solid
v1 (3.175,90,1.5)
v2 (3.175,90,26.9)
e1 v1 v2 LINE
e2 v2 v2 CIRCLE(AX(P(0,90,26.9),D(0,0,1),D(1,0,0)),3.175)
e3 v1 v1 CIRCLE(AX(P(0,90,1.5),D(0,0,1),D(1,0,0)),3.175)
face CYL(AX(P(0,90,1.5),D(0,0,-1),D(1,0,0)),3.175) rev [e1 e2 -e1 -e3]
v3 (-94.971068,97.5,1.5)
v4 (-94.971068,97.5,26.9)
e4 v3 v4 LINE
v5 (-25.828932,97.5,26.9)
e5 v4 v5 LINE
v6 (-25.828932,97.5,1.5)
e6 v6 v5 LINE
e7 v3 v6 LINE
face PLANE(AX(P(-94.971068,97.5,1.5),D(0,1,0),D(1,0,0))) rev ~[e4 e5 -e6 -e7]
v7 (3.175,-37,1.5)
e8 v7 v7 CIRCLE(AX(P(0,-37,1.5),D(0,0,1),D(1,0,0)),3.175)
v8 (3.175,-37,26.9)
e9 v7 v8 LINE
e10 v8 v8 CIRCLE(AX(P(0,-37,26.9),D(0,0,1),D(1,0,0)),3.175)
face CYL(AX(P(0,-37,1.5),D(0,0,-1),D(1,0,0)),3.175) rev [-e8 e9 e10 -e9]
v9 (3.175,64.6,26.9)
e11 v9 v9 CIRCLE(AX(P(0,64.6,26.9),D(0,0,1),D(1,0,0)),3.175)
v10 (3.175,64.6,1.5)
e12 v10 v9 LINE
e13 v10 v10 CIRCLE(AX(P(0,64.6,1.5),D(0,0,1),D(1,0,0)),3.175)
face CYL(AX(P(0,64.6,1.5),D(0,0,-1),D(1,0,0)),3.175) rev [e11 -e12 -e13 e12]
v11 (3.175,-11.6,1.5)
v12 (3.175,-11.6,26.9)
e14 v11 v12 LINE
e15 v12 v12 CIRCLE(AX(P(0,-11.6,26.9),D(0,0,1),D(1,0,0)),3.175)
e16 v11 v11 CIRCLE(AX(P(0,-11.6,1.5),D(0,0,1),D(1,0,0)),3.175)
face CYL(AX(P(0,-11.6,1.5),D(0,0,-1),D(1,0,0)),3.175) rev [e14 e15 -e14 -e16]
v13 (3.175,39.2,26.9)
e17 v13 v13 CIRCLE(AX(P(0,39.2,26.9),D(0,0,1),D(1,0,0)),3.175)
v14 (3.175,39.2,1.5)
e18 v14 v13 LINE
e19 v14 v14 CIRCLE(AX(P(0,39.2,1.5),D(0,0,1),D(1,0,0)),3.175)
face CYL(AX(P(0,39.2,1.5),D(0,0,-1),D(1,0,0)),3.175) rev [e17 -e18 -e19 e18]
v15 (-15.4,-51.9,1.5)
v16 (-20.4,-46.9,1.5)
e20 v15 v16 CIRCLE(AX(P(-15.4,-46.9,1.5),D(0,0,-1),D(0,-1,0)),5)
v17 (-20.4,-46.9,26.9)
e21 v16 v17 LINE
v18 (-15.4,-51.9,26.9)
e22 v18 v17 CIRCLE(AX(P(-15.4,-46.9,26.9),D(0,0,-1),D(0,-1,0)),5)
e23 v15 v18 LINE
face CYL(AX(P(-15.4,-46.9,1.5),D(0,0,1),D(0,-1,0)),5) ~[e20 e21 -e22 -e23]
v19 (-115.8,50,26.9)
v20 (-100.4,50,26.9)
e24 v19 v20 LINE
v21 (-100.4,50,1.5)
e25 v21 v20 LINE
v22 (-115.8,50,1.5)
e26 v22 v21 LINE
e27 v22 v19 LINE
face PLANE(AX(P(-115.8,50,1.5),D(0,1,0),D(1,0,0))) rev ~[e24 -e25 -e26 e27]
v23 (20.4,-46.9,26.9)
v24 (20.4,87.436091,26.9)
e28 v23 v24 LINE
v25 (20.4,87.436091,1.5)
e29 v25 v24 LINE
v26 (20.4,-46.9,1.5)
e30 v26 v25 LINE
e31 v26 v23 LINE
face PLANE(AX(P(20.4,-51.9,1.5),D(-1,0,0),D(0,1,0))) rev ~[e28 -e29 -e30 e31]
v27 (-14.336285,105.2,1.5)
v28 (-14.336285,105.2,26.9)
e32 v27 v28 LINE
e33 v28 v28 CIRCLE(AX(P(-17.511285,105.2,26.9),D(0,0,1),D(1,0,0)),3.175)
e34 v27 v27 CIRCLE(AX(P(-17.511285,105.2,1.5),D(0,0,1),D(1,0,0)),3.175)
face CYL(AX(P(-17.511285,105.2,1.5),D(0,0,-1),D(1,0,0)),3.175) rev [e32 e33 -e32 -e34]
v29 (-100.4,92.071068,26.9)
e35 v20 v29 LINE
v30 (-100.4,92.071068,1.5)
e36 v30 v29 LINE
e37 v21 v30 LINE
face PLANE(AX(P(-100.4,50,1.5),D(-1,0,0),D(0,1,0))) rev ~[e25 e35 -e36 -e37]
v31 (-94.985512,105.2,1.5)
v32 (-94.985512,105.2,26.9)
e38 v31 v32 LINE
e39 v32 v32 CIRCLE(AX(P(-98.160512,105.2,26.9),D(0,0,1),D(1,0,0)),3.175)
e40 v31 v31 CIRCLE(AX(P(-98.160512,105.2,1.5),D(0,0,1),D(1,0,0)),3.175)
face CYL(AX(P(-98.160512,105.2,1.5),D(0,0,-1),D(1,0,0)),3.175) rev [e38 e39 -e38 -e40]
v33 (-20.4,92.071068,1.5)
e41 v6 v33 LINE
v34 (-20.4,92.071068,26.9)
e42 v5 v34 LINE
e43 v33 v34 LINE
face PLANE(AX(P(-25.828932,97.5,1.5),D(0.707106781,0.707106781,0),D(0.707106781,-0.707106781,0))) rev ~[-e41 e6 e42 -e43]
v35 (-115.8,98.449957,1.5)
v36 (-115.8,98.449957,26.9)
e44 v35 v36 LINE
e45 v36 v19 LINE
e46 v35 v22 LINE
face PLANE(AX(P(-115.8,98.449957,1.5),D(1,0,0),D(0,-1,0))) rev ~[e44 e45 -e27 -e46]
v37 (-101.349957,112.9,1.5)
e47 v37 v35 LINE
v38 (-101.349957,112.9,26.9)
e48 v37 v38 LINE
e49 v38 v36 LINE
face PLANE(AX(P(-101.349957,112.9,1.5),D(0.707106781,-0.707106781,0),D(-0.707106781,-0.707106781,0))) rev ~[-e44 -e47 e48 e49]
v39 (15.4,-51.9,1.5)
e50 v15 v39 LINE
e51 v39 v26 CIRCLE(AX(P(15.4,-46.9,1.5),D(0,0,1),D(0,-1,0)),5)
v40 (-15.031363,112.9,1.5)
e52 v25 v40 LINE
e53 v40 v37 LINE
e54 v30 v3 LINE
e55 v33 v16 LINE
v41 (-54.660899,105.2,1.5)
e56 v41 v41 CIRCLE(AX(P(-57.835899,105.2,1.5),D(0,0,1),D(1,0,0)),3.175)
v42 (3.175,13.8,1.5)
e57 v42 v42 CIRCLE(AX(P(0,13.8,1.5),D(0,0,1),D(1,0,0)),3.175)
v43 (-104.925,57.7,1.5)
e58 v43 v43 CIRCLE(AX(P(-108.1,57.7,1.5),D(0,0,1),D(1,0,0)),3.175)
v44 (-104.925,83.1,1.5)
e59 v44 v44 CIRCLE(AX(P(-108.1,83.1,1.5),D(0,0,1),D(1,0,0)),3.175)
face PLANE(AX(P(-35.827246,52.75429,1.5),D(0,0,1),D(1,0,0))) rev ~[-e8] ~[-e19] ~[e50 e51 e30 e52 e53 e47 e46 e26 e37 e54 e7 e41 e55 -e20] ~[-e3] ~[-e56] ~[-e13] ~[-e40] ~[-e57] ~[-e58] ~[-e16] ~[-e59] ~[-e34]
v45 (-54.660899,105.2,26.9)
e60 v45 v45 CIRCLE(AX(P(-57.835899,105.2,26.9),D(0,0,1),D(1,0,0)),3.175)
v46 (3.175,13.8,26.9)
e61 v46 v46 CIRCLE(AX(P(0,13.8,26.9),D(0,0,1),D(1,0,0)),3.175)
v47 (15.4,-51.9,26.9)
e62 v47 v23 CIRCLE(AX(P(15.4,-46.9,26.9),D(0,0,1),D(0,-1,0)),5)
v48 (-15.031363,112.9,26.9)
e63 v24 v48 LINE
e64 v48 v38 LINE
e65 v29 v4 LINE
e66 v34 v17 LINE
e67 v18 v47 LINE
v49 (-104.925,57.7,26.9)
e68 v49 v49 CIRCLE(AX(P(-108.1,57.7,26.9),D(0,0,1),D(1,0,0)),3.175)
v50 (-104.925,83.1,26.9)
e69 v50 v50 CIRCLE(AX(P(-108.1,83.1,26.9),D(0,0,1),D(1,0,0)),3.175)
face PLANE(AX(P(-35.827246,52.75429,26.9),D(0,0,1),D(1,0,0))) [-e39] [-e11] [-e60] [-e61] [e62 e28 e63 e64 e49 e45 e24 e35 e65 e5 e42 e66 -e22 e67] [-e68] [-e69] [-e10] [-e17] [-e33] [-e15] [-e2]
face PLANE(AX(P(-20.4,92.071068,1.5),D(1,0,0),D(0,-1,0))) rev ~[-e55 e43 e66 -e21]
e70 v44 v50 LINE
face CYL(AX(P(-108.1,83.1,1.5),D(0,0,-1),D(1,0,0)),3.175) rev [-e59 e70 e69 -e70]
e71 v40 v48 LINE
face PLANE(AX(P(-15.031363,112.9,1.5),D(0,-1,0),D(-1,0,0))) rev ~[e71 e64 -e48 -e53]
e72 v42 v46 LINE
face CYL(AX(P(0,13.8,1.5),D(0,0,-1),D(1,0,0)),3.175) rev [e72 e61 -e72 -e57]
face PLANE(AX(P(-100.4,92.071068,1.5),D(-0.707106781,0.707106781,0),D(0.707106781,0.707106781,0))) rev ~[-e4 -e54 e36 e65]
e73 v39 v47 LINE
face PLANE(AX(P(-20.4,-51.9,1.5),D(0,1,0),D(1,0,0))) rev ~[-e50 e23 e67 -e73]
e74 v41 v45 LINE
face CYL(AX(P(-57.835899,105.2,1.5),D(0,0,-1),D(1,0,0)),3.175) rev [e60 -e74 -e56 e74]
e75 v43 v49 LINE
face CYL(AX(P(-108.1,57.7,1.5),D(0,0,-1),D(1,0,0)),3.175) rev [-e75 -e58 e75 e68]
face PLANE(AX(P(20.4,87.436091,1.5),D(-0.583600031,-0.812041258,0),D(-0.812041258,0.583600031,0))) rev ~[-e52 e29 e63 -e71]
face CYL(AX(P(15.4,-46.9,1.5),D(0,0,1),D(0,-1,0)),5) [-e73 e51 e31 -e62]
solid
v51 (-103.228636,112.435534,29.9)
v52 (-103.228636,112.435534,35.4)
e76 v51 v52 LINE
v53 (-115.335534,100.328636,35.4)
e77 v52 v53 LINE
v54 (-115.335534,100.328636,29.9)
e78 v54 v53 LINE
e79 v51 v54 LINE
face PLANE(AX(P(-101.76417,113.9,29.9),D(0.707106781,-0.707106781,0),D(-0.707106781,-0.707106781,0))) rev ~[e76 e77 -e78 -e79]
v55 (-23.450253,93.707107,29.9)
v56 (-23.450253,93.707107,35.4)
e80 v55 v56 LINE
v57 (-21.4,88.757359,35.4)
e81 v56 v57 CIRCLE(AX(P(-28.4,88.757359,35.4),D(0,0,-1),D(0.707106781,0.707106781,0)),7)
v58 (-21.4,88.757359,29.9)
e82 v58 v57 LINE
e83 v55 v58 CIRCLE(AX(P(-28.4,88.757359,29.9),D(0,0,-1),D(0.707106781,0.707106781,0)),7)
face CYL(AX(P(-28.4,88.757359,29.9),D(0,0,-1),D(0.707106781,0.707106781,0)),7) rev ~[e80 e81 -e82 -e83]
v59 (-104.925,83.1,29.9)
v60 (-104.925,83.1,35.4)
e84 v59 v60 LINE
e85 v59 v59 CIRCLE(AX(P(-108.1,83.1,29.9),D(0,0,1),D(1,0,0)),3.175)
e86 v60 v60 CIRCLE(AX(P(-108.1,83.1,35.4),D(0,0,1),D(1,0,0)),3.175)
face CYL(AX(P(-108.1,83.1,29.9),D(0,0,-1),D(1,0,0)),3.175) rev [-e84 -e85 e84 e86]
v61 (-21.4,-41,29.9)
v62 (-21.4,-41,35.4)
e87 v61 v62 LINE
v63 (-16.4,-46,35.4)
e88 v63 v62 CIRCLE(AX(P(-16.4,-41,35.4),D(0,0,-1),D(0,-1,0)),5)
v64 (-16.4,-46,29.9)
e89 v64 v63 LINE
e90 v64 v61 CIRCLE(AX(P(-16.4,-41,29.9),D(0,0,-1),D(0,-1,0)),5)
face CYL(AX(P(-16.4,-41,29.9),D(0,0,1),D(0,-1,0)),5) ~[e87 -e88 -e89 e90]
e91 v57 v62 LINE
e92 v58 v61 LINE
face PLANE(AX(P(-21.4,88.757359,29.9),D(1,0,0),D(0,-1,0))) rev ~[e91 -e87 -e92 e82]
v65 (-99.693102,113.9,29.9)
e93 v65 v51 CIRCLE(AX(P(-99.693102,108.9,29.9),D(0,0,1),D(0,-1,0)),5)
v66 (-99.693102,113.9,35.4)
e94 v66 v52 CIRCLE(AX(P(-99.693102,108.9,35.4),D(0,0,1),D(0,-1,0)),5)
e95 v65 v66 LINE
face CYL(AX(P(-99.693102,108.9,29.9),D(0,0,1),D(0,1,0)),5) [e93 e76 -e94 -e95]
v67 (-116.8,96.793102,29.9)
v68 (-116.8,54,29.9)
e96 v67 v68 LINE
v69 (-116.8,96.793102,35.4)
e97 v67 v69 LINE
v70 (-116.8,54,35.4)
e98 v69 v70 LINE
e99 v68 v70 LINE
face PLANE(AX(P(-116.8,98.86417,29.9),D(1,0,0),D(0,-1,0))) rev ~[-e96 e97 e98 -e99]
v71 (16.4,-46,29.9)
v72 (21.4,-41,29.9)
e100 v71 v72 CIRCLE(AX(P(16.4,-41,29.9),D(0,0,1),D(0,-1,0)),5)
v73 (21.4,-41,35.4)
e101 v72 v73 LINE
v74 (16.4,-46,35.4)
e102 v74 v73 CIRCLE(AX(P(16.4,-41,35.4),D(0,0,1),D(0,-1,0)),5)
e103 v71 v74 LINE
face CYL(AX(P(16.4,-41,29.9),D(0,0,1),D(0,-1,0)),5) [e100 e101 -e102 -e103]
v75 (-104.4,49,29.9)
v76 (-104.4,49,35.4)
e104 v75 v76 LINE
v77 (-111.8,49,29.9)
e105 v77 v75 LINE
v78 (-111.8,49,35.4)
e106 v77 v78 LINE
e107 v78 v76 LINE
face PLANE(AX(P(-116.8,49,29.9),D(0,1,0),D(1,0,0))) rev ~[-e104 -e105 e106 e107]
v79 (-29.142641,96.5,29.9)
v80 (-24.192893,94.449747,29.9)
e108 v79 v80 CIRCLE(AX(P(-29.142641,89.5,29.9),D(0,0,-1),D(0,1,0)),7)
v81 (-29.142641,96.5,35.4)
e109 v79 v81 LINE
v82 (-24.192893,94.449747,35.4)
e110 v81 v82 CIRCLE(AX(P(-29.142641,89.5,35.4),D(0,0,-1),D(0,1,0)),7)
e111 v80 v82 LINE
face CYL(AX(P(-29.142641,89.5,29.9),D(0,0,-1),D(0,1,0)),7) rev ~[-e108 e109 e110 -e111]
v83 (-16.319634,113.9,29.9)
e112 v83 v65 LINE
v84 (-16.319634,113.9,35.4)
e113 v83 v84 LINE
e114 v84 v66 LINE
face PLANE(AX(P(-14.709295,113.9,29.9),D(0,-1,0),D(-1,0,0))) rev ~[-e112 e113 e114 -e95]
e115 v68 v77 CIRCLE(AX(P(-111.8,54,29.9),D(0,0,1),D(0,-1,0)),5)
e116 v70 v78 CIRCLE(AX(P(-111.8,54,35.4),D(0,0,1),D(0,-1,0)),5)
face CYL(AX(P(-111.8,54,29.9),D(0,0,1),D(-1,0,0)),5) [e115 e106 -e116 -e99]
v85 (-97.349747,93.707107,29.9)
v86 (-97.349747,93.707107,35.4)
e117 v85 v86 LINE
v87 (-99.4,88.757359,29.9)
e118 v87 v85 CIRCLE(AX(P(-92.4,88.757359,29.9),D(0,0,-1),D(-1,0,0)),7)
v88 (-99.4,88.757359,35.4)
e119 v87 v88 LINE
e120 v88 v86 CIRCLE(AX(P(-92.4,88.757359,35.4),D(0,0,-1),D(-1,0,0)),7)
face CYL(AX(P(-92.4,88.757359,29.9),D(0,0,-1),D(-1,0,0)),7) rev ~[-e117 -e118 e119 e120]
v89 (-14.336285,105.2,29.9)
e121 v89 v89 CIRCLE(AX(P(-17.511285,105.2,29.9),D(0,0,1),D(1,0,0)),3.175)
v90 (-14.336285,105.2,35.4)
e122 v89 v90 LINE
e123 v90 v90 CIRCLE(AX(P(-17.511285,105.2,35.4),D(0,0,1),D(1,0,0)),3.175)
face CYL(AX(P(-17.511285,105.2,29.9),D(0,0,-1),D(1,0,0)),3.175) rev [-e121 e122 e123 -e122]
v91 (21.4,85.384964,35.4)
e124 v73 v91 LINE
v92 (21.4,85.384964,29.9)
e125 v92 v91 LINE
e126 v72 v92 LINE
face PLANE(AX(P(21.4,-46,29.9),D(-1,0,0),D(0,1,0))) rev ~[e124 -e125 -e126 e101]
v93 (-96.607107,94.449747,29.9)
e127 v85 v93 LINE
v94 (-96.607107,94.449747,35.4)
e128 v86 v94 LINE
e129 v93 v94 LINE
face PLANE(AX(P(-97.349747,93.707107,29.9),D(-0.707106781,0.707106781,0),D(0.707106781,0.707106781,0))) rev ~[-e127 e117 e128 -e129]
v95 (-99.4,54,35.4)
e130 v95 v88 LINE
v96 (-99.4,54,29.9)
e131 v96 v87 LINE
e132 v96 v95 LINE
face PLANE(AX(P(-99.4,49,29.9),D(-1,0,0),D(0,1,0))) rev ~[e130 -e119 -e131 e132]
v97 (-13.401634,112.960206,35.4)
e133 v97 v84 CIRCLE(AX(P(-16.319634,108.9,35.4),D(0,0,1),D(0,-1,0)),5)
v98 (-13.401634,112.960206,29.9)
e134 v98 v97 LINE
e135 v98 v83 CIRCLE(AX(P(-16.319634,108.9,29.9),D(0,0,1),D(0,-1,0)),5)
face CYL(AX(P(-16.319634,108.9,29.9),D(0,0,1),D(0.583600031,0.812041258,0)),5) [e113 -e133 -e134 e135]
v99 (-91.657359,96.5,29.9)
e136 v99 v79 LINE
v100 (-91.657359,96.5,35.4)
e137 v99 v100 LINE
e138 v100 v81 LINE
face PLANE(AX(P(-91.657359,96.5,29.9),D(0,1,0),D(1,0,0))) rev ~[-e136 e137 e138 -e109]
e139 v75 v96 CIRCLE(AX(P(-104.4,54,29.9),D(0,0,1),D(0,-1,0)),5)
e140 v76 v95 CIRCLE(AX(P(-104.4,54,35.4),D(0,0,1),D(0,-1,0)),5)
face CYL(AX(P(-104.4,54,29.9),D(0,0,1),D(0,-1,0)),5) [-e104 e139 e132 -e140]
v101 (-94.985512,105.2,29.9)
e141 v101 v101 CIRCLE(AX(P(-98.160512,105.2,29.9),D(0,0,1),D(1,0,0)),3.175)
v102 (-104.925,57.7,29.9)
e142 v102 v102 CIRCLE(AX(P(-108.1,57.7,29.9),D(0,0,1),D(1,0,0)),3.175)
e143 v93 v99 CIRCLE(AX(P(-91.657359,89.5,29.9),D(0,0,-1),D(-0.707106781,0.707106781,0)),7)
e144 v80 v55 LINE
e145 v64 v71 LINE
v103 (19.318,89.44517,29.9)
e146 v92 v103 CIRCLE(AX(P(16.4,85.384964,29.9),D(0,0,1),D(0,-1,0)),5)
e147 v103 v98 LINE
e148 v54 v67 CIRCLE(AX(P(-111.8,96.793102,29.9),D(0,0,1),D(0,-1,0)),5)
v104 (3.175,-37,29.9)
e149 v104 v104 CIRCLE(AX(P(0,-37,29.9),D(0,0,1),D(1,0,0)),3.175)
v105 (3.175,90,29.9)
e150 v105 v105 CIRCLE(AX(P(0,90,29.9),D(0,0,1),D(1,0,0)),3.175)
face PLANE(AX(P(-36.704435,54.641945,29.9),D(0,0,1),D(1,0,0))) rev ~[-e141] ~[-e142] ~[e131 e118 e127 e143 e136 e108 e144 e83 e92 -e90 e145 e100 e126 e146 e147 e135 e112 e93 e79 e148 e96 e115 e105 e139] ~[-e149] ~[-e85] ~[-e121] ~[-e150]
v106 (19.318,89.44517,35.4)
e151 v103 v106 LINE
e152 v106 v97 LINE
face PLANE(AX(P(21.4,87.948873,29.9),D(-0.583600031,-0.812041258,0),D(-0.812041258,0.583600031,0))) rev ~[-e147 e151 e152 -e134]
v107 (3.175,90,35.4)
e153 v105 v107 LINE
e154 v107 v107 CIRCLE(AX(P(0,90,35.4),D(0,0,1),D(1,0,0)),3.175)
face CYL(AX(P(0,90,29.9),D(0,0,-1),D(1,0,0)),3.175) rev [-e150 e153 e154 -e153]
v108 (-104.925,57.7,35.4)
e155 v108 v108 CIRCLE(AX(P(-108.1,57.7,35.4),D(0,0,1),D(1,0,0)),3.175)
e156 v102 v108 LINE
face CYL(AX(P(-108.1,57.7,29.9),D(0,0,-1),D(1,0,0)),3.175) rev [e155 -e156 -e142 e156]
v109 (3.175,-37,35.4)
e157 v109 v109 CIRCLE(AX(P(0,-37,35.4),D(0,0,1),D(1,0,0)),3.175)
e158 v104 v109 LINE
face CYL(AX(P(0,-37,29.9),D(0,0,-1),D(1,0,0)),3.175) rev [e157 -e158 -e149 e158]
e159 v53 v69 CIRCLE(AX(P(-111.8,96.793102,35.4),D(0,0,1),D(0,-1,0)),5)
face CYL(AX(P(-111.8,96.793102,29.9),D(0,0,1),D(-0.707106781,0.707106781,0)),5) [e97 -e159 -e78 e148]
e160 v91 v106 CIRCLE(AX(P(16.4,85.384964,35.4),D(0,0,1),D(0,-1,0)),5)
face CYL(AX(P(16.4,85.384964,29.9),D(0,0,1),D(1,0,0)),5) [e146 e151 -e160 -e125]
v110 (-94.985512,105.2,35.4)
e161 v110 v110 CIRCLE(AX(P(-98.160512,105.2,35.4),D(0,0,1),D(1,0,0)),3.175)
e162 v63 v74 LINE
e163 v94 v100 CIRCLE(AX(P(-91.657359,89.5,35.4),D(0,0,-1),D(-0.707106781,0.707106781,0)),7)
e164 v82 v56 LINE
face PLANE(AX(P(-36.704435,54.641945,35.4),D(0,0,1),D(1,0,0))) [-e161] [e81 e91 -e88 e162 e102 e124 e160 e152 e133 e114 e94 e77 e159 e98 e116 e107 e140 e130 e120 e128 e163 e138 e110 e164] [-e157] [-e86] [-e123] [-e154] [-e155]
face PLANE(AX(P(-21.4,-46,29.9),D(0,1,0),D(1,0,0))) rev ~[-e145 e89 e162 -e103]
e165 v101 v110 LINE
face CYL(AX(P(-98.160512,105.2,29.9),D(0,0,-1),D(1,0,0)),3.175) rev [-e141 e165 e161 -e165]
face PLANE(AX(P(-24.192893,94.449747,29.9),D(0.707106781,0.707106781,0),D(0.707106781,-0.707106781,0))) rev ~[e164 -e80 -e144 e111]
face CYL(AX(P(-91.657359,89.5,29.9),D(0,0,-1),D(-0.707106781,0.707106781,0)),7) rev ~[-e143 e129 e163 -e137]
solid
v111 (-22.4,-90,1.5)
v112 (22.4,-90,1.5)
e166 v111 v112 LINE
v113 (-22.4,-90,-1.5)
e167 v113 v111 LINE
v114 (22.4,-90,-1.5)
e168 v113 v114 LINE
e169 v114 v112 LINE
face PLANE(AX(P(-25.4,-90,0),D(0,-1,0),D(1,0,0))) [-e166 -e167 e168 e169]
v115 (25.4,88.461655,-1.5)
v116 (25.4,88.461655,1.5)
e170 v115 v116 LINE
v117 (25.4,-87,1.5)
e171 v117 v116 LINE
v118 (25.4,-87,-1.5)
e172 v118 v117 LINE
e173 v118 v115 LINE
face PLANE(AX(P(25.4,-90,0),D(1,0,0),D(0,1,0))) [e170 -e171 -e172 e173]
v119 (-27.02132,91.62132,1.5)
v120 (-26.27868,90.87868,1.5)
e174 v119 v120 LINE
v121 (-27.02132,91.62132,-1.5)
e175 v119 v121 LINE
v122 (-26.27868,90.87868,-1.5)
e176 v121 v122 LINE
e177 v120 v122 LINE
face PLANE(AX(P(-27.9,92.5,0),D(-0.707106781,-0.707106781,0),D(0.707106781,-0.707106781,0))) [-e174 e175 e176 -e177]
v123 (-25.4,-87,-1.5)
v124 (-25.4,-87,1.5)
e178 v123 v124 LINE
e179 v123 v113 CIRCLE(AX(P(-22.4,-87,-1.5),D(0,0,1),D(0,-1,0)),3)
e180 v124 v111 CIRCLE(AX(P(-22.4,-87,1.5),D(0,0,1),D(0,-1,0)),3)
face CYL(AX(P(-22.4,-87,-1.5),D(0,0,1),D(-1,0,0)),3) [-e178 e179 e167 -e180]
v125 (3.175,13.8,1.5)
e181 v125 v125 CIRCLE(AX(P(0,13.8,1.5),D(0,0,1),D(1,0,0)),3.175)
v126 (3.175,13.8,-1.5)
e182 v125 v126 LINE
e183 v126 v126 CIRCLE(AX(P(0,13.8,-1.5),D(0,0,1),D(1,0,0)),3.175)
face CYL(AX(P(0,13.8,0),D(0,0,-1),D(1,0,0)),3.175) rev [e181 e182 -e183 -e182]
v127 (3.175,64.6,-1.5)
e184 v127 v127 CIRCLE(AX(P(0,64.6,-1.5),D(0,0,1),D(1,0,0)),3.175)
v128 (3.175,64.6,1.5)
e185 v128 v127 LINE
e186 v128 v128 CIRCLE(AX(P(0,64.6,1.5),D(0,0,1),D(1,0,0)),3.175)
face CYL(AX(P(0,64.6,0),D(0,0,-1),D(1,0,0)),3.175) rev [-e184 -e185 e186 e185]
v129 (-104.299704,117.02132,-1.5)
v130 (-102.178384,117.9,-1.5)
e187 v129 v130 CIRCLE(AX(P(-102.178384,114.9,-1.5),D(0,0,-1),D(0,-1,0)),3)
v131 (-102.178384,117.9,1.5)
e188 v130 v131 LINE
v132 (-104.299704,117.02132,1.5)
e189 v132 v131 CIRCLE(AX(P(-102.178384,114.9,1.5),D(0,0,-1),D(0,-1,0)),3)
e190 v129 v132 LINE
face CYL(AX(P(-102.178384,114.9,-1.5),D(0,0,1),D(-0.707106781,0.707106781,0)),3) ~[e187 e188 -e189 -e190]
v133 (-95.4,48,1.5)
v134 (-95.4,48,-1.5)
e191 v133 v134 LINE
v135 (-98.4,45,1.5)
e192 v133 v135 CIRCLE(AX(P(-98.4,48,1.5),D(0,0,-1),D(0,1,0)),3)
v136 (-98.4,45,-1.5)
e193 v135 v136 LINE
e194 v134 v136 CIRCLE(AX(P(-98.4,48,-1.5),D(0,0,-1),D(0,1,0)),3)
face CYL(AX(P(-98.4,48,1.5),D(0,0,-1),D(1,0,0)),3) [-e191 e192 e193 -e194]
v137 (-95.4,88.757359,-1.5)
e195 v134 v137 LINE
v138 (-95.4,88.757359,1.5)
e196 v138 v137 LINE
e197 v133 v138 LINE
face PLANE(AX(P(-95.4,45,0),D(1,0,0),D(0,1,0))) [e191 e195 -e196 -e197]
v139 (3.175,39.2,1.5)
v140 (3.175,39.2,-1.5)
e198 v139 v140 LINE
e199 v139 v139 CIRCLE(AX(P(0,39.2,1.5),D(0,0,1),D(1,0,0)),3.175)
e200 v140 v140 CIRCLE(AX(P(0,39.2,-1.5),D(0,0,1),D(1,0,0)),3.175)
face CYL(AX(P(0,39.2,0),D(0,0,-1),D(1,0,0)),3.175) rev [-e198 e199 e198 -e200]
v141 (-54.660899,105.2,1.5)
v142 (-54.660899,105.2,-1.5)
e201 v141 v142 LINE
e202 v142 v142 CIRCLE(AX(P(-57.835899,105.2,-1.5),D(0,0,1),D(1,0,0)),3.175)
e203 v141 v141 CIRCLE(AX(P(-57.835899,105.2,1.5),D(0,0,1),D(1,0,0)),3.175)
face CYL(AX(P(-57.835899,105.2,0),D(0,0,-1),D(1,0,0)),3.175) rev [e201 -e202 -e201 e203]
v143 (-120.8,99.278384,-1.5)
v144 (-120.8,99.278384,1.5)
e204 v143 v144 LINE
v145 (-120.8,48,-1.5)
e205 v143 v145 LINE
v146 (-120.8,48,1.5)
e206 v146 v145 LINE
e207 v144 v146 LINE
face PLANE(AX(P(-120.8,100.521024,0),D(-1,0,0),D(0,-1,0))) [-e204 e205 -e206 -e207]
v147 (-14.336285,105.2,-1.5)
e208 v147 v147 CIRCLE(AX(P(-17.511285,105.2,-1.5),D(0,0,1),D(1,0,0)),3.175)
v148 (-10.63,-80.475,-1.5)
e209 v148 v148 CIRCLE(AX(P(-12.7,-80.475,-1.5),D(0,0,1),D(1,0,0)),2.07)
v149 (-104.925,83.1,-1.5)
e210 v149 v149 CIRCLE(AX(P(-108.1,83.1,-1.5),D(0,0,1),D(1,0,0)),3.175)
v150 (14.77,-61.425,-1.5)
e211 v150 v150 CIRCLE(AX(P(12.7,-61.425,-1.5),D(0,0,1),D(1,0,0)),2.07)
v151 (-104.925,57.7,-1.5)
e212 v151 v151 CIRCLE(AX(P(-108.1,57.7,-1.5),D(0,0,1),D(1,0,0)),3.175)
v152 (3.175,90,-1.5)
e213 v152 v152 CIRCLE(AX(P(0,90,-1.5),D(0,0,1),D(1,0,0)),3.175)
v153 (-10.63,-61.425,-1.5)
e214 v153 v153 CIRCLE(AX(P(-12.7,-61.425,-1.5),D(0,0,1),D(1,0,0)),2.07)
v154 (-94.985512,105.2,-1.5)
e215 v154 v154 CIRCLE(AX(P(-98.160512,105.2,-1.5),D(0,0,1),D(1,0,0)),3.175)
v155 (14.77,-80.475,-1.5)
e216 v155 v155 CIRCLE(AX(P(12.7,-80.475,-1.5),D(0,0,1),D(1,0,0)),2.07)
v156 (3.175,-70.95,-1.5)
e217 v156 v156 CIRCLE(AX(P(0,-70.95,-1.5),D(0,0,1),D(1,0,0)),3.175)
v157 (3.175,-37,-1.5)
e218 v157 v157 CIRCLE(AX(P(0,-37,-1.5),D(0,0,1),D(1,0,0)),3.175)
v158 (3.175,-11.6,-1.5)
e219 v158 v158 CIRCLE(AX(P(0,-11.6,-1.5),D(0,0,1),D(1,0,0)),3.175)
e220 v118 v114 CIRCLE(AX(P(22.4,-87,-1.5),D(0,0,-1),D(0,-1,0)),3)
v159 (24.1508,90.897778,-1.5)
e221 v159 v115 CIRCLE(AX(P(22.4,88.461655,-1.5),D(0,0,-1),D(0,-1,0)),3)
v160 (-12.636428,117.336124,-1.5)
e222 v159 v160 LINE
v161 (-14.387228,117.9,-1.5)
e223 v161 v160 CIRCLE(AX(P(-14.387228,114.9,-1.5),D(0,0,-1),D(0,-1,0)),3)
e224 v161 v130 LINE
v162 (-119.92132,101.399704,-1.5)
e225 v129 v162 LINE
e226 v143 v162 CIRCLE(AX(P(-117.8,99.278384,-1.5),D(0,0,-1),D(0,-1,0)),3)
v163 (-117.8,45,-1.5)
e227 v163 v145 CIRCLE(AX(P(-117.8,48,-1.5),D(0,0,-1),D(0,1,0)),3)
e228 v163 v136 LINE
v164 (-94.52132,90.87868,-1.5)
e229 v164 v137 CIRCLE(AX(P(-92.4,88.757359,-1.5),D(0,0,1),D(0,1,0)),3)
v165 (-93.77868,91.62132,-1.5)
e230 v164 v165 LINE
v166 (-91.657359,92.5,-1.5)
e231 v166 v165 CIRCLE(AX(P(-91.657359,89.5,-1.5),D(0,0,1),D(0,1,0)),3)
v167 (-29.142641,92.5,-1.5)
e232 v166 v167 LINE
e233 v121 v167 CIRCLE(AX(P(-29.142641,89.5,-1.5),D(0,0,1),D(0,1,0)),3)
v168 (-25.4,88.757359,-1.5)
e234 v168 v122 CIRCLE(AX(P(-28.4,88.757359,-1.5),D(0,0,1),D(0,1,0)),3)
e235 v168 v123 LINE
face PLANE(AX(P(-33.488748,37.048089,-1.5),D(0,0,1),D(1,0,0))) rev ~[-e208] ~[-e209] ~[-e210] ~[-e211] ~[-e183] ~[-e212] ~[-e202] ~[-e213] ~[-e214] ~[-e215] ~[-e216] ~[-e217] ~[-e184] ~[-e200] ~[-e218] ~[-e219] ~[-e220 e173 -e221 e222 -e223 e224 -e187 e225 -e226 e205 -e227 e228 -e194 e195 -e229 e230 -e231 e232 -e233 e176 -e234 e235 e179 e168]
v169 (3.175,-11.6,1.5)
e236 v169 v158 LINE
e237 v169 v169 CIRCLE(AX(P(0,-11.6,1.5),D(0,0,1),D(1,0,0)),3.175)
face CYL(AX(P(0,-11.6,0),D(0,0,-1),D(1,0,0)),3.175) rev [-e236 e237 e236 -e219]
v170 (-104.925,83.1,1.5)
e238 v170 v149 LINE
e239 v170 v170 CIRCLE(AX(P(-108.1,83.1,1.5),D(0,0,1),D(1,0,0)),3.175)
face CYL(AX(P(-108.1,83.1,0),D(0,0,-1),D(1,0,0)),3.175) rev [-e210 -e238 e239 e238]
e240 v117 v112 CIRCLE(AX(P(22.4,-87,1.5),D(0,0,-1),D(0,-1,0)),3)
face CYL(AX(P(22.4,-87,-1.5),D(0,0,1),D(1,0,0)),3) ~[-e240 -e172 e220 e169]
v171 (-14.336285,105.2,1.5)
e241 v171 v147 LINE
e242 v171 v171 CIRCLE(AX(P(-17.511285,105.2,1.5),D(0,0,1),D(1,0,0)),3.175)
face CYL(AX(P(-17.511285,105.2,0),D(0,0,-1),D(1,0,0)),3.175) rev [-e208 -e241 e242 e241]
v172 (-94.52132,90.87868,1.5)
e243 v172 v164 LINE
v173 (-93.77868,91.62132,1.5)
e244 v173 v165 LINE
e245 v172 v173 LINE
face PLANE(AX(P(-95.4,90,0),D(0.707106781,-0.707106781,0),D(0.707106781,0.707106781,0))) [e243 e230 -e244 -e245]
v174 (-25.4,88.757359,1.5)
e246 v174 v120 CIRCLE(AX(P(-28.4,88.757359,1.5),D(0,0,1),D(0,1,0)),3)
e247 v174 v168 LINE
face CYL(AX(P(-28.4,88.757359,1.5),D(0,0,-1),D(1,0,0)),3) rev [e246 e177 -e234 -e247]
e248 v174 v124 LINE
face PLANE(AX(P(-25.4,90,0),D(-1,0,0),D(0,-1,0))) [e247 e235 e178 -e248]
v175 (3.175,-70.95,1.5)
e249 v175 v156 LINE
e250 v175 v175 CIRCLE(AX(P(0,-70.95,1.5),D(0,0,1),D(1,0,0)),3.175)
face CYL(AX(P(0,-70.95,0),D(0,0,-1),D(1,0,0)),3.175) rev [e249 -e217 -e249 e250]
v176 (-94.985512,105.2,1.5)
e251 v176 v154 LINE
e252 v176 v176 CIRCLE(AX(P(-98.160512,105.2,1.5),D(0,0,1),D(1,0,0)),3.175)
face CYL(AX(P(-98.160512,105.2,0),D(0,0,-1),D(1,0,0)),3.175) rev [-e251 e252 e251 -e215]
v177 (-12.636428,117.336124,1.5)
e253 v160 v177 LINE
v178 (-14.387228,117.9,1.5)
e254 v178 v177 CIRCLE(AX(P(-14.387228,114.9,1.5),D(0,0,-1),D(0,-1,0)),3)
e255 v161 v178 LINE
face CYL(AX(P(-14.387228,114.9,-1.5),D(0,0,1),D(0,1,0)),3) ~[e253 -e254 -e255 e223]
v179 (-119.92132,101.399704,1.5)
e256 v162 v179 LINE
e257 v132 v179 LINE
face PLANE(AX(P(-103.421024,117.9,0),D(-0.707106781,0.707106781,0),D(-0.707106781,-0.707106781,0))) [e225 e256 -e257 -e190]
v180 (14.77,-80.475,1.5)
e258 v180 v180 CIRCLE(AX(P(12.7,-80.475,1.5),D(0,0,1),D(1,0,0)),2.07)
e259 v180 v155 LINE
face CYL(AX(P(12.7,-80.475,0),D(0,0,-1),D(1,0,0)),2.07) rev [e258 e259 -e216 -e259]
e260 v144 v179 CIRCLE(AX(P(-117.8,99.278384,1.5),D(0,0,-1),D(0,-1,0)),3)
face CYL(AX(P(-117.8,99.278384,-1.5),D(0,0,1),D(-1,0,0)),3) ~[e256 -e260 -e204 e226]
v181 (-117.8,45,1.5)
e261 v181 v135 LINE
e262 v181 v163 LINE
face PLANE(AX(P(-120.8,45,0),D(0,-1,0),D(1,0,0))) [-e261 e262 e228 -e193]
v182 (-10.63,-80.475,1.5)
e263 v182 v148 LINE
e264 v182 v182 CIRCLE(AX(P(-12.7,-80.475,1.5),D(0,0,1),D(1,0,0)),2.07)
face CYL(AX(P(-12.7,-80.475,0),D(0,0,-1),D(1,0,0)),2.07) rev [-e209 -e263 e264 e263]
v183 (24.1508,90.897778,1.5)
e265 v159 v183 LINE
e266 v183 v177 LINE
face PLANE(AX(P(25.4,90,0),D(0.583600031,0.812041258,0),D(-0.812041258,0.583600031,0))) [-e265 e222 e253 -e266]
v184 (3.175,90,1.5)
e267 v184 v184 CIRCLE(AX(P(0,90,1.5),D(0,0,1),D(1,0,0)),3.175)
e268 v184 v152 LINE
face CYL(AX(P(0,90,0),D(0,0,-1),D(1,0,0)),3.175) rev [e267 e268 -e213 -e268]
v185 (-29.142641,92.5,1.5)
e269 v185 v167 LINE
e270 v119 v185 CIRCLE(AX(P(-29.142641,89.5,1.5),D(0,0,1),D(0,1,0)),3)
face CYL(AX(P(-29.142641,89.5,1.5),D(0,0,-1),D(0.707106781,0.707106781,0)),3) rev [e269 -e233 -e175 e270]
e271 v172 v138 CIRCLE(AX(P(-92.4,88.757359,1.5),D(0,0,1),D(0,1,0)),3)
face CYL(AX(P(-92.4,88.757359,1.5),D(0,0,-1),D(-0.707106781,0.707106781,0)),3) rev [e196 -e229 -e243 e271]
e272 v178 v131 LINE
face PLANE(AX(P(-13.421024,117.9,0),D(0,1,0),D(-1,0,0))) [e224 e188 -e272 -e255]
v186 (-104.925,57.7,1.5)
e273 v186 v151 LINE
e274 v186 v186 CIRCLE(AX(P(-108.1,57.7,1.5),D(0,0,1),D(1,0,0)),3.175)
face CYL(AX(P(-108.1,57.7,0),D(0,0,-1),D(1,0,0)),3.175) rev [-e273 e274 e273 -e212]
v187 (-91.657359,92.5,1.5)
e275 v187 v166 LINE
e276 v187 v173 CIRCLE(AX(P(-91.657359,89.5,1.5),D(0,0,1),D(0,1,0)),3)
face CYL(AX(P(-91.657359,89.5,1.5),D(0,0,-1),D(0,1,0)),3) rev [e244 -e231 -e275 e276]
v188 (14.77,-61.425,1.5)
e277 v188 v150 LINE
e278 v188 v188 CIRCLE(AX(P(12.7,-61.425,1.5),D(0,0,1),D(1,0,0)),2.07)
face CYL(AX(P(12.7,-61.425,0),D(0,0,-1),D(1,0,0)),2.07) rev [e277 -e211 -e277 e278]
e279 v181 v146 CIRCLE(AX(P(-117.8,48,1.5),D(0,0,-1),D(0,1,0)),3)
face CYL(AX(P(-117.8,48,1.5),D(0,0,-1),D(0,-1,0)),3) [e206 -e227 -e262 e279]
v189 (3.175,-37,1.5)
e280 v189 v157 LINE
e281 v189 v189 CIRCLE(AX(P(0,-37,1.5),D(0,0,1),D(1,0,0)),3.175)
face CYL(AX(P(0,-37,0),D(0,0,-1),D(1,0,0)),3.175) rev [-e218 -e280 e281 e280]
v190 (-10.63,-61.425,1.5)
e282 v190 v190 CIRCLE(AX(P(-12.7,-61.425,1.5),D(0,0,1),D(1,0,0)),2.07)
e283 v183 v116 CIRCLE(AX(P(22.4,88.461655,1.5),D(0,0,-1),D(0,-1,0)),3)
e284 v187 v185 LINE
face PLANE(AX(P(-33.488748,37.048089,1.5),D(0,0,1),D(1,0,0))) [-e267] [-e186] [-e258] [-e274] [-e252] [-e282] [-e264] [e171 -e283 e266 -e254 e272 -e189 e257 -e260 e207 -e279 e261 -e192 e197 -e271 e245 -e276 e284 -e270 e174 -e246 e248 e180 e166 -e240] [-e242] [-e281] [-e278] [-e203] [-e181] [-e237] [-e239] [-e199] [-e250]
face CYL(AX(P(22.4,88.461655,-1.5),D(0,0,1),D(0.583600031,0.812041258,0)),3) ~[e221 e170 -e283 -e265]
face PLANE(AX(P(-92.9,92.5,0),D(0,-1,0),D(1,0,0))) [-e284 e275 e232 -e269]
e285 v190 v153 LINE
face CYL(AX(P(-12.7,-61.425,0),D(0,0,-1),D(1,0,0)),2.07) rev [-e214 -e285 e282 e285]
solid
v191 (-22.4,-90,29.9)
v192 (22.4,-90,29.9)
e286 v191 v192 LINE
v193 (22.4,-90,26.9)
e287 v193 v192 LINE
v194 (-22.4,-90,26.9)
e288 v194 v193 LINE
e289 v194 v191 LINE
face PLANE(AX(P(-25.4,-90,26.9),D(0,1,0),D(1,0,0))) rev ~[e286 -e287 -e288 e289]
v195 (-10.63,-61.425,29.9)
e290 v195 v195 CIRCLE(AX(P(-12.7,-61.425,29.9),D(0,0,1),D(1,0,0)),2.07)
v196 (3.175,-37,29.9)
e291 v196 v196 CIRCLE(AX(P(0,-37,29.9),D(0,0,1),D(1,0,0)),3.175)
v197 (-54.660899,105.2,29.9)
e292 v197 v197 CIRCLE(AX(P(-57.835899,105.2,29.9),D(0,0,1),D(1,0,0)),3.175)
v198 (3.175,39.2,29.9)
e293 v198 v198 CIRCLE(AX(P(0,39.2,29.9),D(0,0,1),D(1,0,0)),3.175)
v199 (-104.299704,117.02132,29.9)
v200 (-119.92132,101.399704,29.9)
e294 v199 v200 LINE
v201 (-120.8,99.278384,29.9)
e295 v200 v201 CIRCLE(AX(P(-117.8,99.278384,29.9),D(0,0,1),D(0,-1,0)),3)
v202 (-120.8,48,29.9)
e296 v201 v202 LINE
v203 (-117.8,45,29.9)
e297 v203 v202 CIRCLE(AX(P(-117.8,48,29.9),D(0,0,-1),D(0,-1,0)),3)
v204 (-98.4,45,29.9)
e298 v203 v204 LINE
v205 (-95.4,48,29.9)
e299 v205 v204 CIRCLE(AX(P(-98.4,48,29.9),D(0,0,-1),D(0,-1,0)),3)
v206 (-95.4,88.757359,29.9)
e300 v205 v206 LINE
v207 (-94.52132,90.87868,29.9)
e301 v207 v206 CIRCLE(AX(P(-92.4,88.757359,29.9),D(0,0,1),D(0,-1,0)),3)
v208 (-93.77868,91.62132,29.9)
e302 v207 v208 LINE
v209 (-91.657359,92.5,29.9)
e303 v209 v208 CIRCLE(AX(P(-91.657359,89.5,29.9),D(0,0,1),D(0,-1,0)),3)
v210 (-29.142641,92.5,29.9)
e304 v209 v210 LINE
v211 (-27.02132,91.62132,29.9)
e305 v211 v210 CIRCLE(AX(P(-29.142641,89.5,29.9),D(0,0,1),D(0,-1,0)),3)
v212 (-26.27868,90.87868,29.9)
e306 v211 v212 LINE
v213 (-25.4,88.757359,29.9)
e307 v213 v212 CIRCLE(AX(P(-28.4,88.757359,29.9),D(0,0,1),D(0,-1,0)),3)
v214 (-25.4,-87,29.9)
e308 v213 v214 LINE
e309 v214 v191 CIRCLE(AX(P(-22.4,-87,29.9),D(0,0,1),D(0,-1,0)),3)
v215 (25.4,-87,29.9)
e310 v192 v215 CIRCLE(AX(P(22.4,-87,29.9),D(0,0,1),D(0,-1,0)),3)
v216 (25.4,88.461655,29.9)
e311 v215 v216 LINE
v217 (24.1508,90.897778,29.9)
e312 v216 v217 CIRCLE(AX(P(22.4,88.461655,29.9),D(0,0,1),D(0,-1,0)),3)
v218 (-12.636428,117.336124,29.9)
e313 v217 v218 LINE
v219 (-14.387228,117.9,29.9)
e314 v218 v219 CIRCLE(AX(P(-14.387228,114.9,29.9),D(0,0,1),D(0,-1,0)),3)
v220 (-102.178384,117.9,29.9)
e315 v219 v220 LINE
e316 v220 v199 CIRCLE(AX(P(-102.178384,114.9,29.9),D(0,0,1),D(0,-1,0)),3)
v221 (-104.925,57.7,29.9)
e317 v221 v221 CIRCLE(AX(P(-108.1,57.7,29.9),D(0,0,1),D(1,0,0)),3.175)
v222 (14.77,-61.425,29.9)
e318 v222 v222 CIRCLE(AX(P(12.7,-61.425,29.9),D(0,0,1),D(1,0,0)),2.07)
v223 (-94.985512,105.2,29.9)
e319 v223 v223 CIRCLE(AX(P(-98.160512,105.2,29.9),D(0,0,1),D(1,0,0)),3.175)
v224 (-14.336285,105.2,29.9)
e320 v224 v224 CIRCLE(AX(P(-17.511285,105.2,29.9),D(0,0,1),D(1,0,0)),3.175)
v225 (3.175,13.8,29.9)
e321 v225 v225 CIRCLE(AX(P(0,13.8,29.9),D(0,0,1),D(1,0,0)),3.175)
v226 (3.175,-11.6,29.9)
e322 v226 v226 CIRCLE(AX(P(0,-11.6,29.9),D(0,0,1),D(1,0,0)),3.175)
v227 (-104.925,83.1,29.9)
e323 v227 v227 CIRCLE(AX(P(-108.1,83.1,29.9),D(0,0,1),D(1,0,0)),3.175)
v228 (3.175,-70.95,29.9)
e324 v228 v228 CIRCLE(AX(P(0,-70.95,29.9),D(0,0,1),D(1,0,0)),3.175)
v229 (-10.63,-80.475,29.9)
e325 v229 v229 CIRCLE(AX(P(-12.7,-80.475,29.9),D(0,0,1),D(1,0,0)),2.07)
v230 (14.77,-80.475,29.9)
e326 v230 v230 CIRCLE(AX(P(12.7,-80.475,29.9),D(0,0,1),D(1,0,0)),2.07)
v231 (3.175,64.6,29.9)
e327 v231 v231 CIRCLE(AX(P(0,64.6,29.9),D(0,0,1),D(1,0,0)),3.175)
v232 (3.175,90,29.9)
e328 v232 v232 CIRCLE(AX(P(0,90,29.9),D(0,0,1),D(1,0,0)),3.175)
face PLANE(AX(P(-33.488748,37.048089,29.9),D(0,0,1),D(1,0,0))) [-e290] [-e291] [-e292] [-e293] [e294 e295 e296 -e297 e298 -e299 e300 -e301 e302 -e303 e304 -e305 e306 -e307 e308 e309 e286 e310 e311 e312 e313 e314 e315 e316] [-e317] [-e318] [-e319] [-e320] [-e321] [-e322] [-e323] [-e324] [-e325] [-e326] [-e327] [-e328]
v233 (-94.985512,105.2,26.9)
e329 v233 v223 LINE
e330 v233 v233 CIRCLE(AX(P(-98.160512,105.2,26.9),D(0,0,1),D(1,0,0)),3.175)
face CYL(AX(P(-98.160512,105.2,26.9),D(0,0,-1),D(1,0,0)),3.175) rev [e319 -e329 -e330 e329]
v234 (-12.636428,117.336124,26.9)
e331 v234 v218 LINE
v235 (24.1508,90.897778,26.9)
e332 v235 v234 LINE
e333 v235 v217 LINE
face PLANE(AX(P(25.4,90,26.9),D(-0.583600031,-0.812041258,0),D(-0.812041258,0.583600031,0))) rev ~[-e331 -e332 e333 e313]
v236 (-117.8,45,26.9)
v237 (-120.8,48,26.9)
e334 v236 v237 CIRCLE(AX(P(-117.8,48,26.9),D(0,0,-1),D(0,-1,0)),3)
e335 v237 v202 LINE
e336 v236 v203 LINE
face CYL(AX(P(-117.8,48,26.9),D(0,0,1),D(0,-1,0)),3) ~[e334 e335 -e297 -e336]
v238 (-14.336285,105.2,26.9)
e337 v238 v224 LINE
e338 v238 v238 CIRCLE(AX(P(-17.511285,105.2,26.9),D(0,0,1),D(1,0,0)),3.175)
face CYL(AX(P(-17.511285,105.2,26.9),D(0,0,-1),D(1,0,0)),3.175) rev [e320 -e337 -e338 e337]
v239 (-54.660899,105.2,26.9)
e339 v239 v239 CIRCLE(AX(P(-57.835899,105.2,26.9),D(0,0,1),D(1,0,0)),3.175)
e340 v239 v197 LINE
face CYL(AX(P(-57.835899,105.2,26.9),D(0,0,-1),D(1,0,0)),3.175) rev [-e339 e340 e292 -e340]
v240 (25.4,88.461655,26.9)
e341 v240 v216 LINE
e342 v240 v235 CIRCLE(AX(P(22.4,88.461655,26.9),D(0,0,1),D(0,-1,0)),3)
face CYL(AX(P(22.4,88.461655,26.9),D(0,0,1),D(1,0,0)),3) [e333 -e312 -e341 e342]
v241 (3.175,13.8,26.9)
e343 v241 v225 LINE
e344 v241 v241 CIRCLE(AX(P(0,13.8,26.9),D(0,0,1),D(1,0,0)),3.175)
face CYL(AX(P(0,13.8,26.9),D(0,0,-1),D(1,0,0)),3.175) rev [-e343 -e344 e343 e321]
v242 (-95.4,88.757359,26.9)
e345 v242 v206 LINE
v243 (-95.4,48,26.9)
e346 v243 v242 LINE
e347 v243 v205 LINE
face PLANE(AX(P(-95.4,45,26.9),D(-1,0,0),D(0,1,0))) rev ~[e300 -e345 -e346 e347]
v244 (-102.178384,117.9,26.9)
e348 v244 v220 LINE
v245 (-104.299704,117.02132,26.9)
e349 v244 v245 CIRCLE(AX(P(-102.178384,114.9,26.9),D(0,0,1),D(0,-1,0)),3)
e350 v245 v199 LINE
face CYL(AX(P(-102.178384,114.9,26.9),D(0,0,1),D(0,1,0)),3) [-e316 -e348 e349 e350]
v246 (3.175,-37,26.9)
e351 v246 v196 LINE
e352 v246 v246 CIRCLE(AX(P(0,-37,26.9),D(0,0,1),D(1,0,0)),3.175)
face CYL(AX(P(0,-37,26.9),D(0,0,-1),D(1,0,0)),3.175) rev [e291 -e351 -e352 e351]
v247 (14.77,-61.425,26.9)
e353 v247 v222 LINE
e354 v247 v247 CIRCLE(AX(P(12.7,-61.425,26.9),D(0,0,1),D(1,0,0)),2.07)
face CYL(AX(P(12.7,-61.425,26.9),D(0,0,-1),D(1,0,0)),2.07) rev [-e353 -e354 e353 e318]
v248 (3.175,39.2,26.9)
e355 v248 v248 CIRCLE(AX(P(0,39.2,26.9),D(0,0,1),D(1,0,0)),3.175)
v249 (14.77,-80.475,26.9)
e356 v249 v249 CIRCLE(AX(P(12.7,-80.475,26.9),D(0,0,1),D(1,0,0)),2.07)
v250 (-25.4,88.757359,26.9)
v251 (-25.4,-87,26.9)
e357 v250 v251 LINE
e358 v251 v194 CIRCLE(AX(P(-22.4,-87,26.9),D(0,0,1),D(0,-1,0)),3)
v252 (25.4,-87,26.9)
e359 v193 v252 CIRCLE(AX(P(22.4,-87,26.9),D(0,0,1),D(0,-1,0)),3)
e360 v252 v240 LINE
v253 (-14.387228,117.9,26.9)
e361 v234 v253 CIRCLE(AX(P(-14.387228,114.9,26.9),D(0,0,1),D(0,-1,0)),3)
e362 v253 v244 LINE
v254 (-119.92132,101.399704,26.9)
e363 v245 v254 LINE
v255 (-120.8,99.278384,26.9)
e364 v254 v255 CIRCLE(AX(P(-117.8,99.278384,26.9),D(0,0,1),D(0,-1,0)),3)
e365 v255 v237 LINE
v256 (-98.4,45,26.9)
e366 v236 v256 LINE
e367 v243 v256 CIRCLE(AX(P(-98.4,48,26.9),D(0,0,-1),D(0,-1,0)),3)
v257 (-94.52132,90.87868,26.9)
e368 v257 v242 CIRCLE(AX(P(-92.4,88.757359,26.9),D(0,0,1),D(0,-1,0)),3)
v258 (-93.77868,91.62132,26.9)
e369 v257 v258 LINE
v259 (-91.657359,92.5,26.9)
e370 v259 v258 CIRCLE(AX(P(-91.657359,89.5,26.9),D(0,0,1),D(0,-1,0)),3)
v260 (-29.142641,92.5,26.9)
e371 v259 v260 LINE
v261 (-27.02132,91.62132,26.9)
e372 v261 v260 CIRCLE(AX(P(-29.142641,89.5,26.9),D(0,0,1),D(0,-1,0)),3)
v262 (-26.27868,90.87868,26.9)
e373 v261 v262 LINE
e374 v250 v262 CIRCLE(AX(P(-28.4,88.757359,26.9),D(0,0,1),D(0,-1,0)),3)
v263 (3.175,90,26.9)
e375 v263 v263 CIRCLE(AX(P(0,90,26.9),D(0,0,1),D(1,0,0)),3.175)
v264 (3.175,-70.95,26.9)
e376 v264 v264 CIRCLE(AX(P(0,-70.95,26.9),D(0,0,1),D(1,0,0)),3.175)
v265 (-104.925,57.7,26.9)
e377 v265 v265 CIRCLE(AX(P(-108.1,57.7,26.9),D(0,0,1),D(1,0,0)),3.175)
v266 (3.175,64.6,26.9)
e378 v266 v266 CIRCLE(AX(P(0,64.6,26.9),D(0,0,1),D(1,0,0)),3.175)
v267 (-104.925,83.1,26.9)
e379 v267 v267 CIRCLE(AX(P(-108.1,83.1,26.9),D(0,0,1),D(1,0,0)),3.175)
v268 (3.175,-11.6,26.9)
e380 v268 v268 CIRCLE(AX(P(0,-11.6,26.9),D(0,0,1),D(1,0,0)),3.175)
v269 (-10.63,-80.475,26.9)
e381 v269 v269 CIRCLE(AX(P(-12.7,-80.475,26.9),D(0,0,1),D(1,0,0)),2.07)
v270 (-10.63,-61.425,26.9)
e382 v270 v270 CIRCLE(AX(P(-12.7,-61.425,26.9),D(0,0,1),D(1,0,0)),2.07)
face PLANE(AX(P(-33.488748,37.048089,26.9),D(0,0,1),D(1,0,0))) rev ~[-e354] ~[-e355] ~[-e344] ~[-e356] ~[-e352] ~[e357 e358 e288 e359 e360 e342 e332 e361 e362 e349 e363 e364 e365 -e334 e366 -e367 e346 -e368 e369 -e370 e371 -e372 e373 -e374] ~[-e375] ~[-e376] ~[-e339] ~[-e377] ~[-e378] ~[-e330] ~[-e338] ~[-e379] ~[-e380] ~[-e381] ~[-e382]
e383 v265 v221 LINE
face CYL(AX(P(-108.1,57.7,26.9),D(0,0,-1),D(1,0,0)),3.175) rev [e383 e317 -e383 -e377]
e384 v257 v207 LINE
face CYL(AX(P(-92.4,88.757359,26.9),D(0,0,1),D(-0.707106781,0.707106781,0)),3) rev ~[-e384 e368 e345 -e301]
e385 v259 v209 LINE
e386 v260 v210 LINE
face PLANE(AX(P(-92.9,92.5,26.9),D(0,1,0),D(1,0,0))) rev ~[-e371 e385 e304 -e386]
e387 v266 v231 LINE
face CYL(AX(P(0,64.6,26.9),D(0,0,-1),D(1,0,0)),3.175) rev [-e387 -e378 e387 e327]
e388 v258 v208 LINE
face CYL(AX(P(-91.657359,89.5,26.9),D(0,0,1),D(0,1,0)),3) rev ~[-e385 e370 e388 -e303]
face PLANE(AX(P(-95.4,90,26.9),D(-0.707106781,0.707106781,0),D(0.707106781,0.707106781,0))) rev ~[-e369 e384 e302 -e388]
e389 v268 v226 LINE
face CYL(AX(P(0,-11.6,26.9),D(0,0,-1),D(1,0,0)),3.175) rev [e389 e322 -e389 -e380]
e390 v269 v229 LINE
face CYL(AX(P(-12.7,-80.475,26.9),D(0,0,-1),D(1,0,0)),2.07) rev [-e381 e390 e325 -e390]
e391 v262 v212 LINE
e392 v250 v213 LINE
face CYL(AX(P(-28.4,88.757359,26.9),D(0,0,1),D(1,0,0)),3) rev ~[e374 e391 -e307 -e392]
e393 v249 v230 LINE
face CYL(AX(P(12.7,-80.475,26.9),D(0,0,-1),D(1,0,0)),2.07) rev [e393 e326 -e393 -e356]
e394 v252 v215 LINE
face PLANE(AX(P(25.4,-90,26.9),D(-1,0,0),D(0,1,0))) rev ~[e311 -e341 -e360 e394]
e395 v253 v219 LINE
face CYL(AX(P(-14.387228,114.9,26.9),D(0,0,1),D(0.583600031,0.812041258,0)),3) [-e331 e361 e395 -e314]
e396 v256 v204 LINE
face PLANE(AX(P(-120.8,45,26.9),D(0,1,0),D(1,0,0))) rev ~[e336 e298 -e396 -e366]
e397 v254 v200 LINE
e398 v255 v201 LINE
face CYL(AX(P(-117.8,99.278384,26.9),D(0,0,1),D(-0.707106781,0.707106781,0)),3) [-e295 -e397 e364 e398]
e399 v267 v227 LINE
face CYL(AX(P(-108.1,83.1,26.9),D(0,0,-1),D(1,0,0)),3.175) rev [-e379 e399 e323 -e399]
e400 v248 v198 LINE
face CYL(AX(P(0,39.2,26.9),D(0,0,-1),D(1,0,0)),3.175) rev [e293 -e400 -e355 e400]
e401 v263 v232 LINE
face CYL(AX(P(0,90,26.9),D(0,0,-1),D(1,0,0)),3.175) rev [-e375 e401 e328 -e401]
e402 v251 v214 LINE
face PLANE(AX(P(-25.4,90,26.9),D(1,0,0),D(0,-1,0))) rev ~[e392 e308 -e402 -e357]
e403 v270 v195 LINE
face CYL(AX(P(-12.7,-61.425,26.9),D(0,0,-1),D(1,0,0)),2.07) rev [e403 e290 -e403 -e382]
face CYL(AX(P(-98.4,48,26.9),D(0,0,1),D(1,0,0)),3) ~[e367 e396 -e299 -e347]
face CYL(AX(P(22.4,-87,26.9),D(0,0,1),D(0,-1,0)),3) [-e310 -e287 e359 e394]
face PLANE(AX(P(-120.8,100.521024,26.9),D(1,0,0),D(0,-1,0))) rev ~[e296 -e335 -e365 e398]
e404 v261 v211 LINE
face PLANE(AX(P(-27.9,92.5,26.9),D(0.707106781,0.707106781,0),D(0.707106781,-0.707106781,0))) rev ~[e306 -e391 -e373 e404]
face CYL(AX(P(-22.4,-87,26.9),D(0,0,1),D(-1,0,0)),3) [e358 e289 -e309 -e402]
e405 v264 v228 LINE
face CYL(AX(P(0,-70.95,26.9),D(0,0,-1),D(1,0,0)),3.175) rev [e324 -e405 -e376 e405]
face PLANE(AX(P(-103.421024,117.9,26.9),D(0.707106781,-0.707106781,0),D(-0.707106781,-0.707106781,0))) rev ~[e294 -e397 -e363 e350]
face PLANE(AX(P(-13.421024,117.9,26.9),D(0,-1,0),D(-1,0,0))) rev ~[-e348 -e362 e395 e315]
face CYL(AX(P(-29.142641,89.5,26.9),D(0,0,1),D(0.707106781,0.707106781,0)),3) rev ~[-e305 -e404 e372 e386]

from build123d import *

# Parameters (mm, degrees)
SKETCH2_R           = 3.175
SKETCH2_R_2         = 2.07
BOSS_EXTRUDE1_DEPTH = 1.5
SKETCH3_R           = 3.175
BOSS_EXTRUDE2_DEPTH = 25.4
FILLET2_R           = 5
BOSS_EXTRUDE3_START = 26.9
SKETCH2_3_R         = 3.175
SKETCH2_3_R_2       = 2.07
BOSS_EXTRUDE3_DEPTH = 3
FILLET3_R           = 3
FILLET4_R           = 3
SKETCH5_R           = 3.175
BOSS_EXTRUDE6_DEPTH = 5.5
FILLET7_R           = 5


with BuildPart() as part:
    # Sketch2 → Boss-Extrude1 (new, symmetric)
    with BuildSketch(Plane.XY):
        Polygon((-25.4, 90), (-25.4, -90), (25.4, -90), (25.4, 90), (-13.421024484, 117.9), (-103.421024484, 117.9), (-120.8, 100.521024484), (-120.8, 45), (-95.4, 45), (-95.4, 90), (-92.9, 92.5), (-27.9, 92.5), align=None)
        with Locations((-108.1, 57.7)):
            Circle(SKETCH2_R, mode=Mode.SUBTRACT)
        with Locations((-108.1, 83.1)):
            Circle(SKETCH2_R, mode=Mode.SUBTRACT)
        with Locations((0, 90)):
            Circle(SKETCH2_R, mode=Mode.SUBTRACT)
        with Locations((0, 64.6)):
            Circle(SKETCH2_R, mode=Mode.SUBTRACT)
        with Locations((0, 39.2)):
            Circle(SKETCH2_R, mode=Mode.SUBTRACT)
        with Locations((0, 13.8)):
            Circle(SKETCH2_R, mode=Mode.SUBTRACT)
        with Locations((0, -11.6)):
            Circle(SKETCH2_R, mode=Mode.SUBTRACT)
        with Locations((0, -37)):
            Circle(SKETCH2_R, mode=Mode.SUBTRACT)
        with Locations((-57.835898506, 105.2)):
            Circle(SKETCH2_R, mode=Mode.SUBTRACT)
        with Locations((-98.160512242, 105.2)):
            Circle(SKETCH2_R, mode=Mode.SUBTRACT)
        with Locations((-17.51128477, 105.2)):
            Circle(SKETCH2_R, mode=Mode.SUBTRACT)
        with Locations((0, -70.95)):
            Circle(SKETCH2_R, mode=Mode.SUBTRACT)
        with Locations((-12.7, -61.425)):
            Circle(SKETCH2_R_2, mode=Mode.SUBTRACT)
        with Locations((12.7, -61.425)):
            Circle(SKETCH2_R_2, mode=Mode.SUBTRACT)
        with Locations((12.7, -80.475)):
            Circle(SKETCH2_R_2, mode=Mode.SUBTRACT)
        with Locations((-12.7, -80.475)):
            Circle(SKETCH2_R_2, mode=Mode.SUBTRACT)
    extrude(amount=BOSS_EXTRUDE1_DEPTH, both=True)

    # Fillet4
    fillet4_edges = [part.edges().sort_by_distance(p)[0] for p in [
        (-120.8, 100.521024484, 0),
        (-103.421024484, 117.9, 0),
        (-13.421024484, 117.9, 0),
        (25.4, 90, 0),
        (25.4, -90, 0),
        (-25.4, -90, 0),
        (-25.4, 90, 0),
        (-27.9, 92.5, 0),
        (-92.9, 92.5, 0),
        (-95.4, 90, 0),
        (-95.4, 45, 0),
        (-120.8, 45, 0),
    ]]
    fillet(fillet4_edges, radius=FILLET4_R)


with BuildPart() as body_2:
    # Sketch3 → Boss-Extrude2 (new body)
    with BuildSketch(Plane.XY.offset(1.5)):
        Polygon((-20.4, -51.9), (20.4, -51.9), (20.4, 87.436091053), (-15.031363179, 112.9), (-101.349956672, 112.9), (-115.8, 98.449956672), (-115.8, 50), (-100.4, 50), (-100.4, 92.071067812), (-94.971067812, 97.5), (-25.828932188, 97.5), (-20.4, 92.071067812), align=None)
        with Locations((0, -37)):
            Circle(SKETCH3_R, mode=Mode.SUBTRACT)
        with Locations((0, -11.6)):
            Circle(SKETCH3_R, mode=Mode.SUBTRACT)
        with Locations((0, 13.8)):
            Circle(SKETCH3_R, mode=Mode.SUBTRACT)
        with Locations((-108.1, 57.7)):
            Circle(SKETCH3_R, mode=Mode.SUBTRACT)
        with Locations((-108.1, 83.1)):
            Circle(SKETCH3_R, mode=Mode.SUBTRACT)
        with Locations((-98.160512242, 105.2)):
            Circle(SKETCH3_R, mode=Mode.SUBTRACT)
        with Locations((-57.835898506, 105.2)):
            Circle(SKETCH3_R, mode=Mode.SUBTRACT)
        with Locations((0, 39.2)):
            Circle(SKETCH3_R, mode=Mode.SUBTRACT)
        with Locations((0, 64.6)):
            Circle(SKETCH3_R, mode=Mode.SUBTRACT)
        with Locations((-17.51128477, 105.2)):
            Circle(SKETCH3_R, mode=Mode.SUBTRACT)
        with Locations((0, 90)):
            Circle(SKETCH3_R, mode=Mode.SUBTRACT)
    extrude(amount=BOSS_EXTRUDE2_DEPTH)

    # Fillet2
    fillet2_edges = [body_2.edges().sort_by_distance(p)[0] for p in [
        (20.4, -51.9, 14.2),
        (-20.4, -51.9, 14.2),
    ]]
    fillet(fillet2_edges, radius=FILLET2_R)


with BuildPart() as body_3:
    # Sketch2<3> → Boss-Extrude3 (new body)
    with BuildSketch(Plane.XY.offset(BOSS_EXTRUDE3_START)):
        Polygon((-25.4, 90), (-25.4, -90), (25.4, -90), (25.4, 90), (-13.421024484, 117.9), (-103.421024484, 117.9), (-120.8, 100.521024484), (-120.8, 45), (-95.4, 45), (-95.4, 90), (-92.9, 92.5), (-27.9, 92.5), align=None)
        with Locations((-108.1, 57.7)):
            Circle(SKETCH2_3_R, mode=Mode.SUBTRACT)
        with Locations((-108.1, 83.1)):
            Circle(SKETCH2_3_R, mode=Mode.SUBTRACT)
        with Locations((0, 90)):
            Circle(SKETCH2_3_R, mode=Mode.SUBTRACT)
        with Locations((0, 64.6)):
            Circle(SKETCH2_3_R, mode=Mode.SUBTRACT)
        with Locations((0, 39.2)):
            Circle(SKETCH2_3_R, mode=Mode.SUBTRACT)
        with Locations((0, 13.8)):
            Circle(SKETCH2_3_R, mode=Mode.SUBTRACT)
        with Locations((0, -11.6)):
            Circle(SKETCH2_3_R, mode=Mode.SUBTRACT)
        with Locations((0, -37)):
            Circle(SKETCH2_3_R, mode=Mode.SUBTRACT)
        with Locations((-57.835898506, 105.2)):
            Circle(SKETCH2_3_R, mode=Mode.SUBTRACT)
        with Locations((-98.160512242, 105.2)):
            Circle(SKETCH2_3_R, mode=Mode.SUBTRACT)
        with Locations((-17.51128477, 105.2)):
            Circle(SKETCH2_3_R, mode=Mode.SUBTRACT)
        with Locations((0, -70.95)):
            Circle(SKETCH2_3_R, mode=Mode.SUBTRACT)
        with Locations((-12.7, -61.425)):
            Circle(SKETCH2_3_R_2, mode=Mode.SUBTRACT)
        with Locations((12.7, -61.425)):
            Circle(SKETCH2_3_R_2, mode=Mode.SUBTRACT)
        with Locations((12.7, -80.475)):
            Circle(SKETCH2_3_R_2, mode=Mode.SUBTRACT)
        with Locations((-12.7, -80.475)):
            Circle(SKETCH2_3_R_2, mode=Mode.SUBTRACT)
    extrude(amount=BOSS_EXTRUDE3_DEPTH)

    # Fillet3
    fillet3_edges = [body_3.edges().sort_by_distance(p)[0] for p in [
        (-27.9, 92.5, 28.4),
        (-92.9, 92.5, 28.4),
        (-95.4, 90, 28.4),
        (-95.4, 45, 28.4),
        (-120.8, 45, 28.4),
        (-120.8, 100.521024484, 28.4),
        (-103.421024484, 117.9, 28.4),
        (-13.421024484, 117.9, 28.4),
        (25.4, 90, 28.4),
        (25.4, -90, 28.4),
        (-25.4, -90, 28.4),
        (-25.4, 90, 28.4),
    ]]
    fillet(fillet3_edges, radius=FILLET3_R)


with BuildPart() as body_4:
    # Sketch5 → Boss-Extrude6 (new body)
    with BuildSketch(Plane.XY.offset(29.9)):
        with BuildLine():
            Line((-21.4, -46), (21.4, -46))
            Line((21.4, -46), (21.4, 87.948872842))
            Line((21.4, 87.948872842), (-14.70929544, 113.9))
            Line((-14.70929544, 113.9), (-101.764170235, 113.9))
            Line((-101.764170235, 113.9), (-116.8, 98.864170235))
            Line((-116.8, 98.864170235), (-116.8, 49))
            Line((-116.8, 49), (-99.4, 49))
            Line((-99.4, 49), (-99.4, 88.757359313))
            ThreePointArc((-99.4, 88.757359313), (-98.867156728, 91.436143339), (-97.349747468, 93.707106781))
            Line((-97.349747468, 93.707106781), (-96.607106781, 94.449747468))
            ThreePointArc((-96.607106781, 94.449747468), (-94.336143339, 95.967156728), (-91.657359313, 96.5))
            Line((-91.657359313, 96.5), (-29.142640687, 96.5))
            ThreePointArc((-29.142640687, 96.5), (-26.463856661, 95.967156728), (-24.192893219, 94.449747468))
            Line((-24.192893219, 94.449747468), (-23.450252532, 93.707106781))
            ThreePointArc((-23.450252532, 93.707106781), (-21.932843272, 91.436143339), (-21.4, 88.757359313))
            Line((-21.4, 88.757359313), (-21.4, -46))
        make_face()
        with Locations((0, -37)):
            Circle(SKETCH5_R, mode=Mode.SUBTRACT)
        with Locations((0, 90)):
            Circle(SKETCH5_R, mode=Mode.SUBTRACT)
        with Locations((-17.51128477, 105.2)):
            Circle(SKETCH5_R, mode=Mode.SUBTRACT)
        with Locations((-98.160512242, 105.2)):
            Circle(SKETCH5_R, mode=Mode.SUBTRACT)
        with Locations((-108.1, 83.1)):
            Circle(SKETCH5_R, mode=Mode.SUBTRACT)
        with Locations((-108.1, 57.7)):
            Circle(SKETCH5_R, mode=Mode.SUBTRACT)
    extrude(amount=BOSS_EXTRUDE6_DEPTH)

    # Fillet7
    fillet7_edges = [body_4.edges().sort_by_distance(p)[0] for p in [
        (-99.4, 49, 32.65),
        (-116.8, 49, 32.65),
        (-116.8, 98.864170235, 32.65),
        (-101.764170235, 113.9, 32.65),
        (-14.70929544, 113.9, 32.65),
        (21.4, 87.948872842, 32.65),
        (21.4, -46, 32.65),
        (-21.4, -46, 32.65),
    ]]
    fillet(fillet7_edges, radius=FILLET7_R)


solid = Compound([part.part, body_2.part, body_3.part, body_4.part])
